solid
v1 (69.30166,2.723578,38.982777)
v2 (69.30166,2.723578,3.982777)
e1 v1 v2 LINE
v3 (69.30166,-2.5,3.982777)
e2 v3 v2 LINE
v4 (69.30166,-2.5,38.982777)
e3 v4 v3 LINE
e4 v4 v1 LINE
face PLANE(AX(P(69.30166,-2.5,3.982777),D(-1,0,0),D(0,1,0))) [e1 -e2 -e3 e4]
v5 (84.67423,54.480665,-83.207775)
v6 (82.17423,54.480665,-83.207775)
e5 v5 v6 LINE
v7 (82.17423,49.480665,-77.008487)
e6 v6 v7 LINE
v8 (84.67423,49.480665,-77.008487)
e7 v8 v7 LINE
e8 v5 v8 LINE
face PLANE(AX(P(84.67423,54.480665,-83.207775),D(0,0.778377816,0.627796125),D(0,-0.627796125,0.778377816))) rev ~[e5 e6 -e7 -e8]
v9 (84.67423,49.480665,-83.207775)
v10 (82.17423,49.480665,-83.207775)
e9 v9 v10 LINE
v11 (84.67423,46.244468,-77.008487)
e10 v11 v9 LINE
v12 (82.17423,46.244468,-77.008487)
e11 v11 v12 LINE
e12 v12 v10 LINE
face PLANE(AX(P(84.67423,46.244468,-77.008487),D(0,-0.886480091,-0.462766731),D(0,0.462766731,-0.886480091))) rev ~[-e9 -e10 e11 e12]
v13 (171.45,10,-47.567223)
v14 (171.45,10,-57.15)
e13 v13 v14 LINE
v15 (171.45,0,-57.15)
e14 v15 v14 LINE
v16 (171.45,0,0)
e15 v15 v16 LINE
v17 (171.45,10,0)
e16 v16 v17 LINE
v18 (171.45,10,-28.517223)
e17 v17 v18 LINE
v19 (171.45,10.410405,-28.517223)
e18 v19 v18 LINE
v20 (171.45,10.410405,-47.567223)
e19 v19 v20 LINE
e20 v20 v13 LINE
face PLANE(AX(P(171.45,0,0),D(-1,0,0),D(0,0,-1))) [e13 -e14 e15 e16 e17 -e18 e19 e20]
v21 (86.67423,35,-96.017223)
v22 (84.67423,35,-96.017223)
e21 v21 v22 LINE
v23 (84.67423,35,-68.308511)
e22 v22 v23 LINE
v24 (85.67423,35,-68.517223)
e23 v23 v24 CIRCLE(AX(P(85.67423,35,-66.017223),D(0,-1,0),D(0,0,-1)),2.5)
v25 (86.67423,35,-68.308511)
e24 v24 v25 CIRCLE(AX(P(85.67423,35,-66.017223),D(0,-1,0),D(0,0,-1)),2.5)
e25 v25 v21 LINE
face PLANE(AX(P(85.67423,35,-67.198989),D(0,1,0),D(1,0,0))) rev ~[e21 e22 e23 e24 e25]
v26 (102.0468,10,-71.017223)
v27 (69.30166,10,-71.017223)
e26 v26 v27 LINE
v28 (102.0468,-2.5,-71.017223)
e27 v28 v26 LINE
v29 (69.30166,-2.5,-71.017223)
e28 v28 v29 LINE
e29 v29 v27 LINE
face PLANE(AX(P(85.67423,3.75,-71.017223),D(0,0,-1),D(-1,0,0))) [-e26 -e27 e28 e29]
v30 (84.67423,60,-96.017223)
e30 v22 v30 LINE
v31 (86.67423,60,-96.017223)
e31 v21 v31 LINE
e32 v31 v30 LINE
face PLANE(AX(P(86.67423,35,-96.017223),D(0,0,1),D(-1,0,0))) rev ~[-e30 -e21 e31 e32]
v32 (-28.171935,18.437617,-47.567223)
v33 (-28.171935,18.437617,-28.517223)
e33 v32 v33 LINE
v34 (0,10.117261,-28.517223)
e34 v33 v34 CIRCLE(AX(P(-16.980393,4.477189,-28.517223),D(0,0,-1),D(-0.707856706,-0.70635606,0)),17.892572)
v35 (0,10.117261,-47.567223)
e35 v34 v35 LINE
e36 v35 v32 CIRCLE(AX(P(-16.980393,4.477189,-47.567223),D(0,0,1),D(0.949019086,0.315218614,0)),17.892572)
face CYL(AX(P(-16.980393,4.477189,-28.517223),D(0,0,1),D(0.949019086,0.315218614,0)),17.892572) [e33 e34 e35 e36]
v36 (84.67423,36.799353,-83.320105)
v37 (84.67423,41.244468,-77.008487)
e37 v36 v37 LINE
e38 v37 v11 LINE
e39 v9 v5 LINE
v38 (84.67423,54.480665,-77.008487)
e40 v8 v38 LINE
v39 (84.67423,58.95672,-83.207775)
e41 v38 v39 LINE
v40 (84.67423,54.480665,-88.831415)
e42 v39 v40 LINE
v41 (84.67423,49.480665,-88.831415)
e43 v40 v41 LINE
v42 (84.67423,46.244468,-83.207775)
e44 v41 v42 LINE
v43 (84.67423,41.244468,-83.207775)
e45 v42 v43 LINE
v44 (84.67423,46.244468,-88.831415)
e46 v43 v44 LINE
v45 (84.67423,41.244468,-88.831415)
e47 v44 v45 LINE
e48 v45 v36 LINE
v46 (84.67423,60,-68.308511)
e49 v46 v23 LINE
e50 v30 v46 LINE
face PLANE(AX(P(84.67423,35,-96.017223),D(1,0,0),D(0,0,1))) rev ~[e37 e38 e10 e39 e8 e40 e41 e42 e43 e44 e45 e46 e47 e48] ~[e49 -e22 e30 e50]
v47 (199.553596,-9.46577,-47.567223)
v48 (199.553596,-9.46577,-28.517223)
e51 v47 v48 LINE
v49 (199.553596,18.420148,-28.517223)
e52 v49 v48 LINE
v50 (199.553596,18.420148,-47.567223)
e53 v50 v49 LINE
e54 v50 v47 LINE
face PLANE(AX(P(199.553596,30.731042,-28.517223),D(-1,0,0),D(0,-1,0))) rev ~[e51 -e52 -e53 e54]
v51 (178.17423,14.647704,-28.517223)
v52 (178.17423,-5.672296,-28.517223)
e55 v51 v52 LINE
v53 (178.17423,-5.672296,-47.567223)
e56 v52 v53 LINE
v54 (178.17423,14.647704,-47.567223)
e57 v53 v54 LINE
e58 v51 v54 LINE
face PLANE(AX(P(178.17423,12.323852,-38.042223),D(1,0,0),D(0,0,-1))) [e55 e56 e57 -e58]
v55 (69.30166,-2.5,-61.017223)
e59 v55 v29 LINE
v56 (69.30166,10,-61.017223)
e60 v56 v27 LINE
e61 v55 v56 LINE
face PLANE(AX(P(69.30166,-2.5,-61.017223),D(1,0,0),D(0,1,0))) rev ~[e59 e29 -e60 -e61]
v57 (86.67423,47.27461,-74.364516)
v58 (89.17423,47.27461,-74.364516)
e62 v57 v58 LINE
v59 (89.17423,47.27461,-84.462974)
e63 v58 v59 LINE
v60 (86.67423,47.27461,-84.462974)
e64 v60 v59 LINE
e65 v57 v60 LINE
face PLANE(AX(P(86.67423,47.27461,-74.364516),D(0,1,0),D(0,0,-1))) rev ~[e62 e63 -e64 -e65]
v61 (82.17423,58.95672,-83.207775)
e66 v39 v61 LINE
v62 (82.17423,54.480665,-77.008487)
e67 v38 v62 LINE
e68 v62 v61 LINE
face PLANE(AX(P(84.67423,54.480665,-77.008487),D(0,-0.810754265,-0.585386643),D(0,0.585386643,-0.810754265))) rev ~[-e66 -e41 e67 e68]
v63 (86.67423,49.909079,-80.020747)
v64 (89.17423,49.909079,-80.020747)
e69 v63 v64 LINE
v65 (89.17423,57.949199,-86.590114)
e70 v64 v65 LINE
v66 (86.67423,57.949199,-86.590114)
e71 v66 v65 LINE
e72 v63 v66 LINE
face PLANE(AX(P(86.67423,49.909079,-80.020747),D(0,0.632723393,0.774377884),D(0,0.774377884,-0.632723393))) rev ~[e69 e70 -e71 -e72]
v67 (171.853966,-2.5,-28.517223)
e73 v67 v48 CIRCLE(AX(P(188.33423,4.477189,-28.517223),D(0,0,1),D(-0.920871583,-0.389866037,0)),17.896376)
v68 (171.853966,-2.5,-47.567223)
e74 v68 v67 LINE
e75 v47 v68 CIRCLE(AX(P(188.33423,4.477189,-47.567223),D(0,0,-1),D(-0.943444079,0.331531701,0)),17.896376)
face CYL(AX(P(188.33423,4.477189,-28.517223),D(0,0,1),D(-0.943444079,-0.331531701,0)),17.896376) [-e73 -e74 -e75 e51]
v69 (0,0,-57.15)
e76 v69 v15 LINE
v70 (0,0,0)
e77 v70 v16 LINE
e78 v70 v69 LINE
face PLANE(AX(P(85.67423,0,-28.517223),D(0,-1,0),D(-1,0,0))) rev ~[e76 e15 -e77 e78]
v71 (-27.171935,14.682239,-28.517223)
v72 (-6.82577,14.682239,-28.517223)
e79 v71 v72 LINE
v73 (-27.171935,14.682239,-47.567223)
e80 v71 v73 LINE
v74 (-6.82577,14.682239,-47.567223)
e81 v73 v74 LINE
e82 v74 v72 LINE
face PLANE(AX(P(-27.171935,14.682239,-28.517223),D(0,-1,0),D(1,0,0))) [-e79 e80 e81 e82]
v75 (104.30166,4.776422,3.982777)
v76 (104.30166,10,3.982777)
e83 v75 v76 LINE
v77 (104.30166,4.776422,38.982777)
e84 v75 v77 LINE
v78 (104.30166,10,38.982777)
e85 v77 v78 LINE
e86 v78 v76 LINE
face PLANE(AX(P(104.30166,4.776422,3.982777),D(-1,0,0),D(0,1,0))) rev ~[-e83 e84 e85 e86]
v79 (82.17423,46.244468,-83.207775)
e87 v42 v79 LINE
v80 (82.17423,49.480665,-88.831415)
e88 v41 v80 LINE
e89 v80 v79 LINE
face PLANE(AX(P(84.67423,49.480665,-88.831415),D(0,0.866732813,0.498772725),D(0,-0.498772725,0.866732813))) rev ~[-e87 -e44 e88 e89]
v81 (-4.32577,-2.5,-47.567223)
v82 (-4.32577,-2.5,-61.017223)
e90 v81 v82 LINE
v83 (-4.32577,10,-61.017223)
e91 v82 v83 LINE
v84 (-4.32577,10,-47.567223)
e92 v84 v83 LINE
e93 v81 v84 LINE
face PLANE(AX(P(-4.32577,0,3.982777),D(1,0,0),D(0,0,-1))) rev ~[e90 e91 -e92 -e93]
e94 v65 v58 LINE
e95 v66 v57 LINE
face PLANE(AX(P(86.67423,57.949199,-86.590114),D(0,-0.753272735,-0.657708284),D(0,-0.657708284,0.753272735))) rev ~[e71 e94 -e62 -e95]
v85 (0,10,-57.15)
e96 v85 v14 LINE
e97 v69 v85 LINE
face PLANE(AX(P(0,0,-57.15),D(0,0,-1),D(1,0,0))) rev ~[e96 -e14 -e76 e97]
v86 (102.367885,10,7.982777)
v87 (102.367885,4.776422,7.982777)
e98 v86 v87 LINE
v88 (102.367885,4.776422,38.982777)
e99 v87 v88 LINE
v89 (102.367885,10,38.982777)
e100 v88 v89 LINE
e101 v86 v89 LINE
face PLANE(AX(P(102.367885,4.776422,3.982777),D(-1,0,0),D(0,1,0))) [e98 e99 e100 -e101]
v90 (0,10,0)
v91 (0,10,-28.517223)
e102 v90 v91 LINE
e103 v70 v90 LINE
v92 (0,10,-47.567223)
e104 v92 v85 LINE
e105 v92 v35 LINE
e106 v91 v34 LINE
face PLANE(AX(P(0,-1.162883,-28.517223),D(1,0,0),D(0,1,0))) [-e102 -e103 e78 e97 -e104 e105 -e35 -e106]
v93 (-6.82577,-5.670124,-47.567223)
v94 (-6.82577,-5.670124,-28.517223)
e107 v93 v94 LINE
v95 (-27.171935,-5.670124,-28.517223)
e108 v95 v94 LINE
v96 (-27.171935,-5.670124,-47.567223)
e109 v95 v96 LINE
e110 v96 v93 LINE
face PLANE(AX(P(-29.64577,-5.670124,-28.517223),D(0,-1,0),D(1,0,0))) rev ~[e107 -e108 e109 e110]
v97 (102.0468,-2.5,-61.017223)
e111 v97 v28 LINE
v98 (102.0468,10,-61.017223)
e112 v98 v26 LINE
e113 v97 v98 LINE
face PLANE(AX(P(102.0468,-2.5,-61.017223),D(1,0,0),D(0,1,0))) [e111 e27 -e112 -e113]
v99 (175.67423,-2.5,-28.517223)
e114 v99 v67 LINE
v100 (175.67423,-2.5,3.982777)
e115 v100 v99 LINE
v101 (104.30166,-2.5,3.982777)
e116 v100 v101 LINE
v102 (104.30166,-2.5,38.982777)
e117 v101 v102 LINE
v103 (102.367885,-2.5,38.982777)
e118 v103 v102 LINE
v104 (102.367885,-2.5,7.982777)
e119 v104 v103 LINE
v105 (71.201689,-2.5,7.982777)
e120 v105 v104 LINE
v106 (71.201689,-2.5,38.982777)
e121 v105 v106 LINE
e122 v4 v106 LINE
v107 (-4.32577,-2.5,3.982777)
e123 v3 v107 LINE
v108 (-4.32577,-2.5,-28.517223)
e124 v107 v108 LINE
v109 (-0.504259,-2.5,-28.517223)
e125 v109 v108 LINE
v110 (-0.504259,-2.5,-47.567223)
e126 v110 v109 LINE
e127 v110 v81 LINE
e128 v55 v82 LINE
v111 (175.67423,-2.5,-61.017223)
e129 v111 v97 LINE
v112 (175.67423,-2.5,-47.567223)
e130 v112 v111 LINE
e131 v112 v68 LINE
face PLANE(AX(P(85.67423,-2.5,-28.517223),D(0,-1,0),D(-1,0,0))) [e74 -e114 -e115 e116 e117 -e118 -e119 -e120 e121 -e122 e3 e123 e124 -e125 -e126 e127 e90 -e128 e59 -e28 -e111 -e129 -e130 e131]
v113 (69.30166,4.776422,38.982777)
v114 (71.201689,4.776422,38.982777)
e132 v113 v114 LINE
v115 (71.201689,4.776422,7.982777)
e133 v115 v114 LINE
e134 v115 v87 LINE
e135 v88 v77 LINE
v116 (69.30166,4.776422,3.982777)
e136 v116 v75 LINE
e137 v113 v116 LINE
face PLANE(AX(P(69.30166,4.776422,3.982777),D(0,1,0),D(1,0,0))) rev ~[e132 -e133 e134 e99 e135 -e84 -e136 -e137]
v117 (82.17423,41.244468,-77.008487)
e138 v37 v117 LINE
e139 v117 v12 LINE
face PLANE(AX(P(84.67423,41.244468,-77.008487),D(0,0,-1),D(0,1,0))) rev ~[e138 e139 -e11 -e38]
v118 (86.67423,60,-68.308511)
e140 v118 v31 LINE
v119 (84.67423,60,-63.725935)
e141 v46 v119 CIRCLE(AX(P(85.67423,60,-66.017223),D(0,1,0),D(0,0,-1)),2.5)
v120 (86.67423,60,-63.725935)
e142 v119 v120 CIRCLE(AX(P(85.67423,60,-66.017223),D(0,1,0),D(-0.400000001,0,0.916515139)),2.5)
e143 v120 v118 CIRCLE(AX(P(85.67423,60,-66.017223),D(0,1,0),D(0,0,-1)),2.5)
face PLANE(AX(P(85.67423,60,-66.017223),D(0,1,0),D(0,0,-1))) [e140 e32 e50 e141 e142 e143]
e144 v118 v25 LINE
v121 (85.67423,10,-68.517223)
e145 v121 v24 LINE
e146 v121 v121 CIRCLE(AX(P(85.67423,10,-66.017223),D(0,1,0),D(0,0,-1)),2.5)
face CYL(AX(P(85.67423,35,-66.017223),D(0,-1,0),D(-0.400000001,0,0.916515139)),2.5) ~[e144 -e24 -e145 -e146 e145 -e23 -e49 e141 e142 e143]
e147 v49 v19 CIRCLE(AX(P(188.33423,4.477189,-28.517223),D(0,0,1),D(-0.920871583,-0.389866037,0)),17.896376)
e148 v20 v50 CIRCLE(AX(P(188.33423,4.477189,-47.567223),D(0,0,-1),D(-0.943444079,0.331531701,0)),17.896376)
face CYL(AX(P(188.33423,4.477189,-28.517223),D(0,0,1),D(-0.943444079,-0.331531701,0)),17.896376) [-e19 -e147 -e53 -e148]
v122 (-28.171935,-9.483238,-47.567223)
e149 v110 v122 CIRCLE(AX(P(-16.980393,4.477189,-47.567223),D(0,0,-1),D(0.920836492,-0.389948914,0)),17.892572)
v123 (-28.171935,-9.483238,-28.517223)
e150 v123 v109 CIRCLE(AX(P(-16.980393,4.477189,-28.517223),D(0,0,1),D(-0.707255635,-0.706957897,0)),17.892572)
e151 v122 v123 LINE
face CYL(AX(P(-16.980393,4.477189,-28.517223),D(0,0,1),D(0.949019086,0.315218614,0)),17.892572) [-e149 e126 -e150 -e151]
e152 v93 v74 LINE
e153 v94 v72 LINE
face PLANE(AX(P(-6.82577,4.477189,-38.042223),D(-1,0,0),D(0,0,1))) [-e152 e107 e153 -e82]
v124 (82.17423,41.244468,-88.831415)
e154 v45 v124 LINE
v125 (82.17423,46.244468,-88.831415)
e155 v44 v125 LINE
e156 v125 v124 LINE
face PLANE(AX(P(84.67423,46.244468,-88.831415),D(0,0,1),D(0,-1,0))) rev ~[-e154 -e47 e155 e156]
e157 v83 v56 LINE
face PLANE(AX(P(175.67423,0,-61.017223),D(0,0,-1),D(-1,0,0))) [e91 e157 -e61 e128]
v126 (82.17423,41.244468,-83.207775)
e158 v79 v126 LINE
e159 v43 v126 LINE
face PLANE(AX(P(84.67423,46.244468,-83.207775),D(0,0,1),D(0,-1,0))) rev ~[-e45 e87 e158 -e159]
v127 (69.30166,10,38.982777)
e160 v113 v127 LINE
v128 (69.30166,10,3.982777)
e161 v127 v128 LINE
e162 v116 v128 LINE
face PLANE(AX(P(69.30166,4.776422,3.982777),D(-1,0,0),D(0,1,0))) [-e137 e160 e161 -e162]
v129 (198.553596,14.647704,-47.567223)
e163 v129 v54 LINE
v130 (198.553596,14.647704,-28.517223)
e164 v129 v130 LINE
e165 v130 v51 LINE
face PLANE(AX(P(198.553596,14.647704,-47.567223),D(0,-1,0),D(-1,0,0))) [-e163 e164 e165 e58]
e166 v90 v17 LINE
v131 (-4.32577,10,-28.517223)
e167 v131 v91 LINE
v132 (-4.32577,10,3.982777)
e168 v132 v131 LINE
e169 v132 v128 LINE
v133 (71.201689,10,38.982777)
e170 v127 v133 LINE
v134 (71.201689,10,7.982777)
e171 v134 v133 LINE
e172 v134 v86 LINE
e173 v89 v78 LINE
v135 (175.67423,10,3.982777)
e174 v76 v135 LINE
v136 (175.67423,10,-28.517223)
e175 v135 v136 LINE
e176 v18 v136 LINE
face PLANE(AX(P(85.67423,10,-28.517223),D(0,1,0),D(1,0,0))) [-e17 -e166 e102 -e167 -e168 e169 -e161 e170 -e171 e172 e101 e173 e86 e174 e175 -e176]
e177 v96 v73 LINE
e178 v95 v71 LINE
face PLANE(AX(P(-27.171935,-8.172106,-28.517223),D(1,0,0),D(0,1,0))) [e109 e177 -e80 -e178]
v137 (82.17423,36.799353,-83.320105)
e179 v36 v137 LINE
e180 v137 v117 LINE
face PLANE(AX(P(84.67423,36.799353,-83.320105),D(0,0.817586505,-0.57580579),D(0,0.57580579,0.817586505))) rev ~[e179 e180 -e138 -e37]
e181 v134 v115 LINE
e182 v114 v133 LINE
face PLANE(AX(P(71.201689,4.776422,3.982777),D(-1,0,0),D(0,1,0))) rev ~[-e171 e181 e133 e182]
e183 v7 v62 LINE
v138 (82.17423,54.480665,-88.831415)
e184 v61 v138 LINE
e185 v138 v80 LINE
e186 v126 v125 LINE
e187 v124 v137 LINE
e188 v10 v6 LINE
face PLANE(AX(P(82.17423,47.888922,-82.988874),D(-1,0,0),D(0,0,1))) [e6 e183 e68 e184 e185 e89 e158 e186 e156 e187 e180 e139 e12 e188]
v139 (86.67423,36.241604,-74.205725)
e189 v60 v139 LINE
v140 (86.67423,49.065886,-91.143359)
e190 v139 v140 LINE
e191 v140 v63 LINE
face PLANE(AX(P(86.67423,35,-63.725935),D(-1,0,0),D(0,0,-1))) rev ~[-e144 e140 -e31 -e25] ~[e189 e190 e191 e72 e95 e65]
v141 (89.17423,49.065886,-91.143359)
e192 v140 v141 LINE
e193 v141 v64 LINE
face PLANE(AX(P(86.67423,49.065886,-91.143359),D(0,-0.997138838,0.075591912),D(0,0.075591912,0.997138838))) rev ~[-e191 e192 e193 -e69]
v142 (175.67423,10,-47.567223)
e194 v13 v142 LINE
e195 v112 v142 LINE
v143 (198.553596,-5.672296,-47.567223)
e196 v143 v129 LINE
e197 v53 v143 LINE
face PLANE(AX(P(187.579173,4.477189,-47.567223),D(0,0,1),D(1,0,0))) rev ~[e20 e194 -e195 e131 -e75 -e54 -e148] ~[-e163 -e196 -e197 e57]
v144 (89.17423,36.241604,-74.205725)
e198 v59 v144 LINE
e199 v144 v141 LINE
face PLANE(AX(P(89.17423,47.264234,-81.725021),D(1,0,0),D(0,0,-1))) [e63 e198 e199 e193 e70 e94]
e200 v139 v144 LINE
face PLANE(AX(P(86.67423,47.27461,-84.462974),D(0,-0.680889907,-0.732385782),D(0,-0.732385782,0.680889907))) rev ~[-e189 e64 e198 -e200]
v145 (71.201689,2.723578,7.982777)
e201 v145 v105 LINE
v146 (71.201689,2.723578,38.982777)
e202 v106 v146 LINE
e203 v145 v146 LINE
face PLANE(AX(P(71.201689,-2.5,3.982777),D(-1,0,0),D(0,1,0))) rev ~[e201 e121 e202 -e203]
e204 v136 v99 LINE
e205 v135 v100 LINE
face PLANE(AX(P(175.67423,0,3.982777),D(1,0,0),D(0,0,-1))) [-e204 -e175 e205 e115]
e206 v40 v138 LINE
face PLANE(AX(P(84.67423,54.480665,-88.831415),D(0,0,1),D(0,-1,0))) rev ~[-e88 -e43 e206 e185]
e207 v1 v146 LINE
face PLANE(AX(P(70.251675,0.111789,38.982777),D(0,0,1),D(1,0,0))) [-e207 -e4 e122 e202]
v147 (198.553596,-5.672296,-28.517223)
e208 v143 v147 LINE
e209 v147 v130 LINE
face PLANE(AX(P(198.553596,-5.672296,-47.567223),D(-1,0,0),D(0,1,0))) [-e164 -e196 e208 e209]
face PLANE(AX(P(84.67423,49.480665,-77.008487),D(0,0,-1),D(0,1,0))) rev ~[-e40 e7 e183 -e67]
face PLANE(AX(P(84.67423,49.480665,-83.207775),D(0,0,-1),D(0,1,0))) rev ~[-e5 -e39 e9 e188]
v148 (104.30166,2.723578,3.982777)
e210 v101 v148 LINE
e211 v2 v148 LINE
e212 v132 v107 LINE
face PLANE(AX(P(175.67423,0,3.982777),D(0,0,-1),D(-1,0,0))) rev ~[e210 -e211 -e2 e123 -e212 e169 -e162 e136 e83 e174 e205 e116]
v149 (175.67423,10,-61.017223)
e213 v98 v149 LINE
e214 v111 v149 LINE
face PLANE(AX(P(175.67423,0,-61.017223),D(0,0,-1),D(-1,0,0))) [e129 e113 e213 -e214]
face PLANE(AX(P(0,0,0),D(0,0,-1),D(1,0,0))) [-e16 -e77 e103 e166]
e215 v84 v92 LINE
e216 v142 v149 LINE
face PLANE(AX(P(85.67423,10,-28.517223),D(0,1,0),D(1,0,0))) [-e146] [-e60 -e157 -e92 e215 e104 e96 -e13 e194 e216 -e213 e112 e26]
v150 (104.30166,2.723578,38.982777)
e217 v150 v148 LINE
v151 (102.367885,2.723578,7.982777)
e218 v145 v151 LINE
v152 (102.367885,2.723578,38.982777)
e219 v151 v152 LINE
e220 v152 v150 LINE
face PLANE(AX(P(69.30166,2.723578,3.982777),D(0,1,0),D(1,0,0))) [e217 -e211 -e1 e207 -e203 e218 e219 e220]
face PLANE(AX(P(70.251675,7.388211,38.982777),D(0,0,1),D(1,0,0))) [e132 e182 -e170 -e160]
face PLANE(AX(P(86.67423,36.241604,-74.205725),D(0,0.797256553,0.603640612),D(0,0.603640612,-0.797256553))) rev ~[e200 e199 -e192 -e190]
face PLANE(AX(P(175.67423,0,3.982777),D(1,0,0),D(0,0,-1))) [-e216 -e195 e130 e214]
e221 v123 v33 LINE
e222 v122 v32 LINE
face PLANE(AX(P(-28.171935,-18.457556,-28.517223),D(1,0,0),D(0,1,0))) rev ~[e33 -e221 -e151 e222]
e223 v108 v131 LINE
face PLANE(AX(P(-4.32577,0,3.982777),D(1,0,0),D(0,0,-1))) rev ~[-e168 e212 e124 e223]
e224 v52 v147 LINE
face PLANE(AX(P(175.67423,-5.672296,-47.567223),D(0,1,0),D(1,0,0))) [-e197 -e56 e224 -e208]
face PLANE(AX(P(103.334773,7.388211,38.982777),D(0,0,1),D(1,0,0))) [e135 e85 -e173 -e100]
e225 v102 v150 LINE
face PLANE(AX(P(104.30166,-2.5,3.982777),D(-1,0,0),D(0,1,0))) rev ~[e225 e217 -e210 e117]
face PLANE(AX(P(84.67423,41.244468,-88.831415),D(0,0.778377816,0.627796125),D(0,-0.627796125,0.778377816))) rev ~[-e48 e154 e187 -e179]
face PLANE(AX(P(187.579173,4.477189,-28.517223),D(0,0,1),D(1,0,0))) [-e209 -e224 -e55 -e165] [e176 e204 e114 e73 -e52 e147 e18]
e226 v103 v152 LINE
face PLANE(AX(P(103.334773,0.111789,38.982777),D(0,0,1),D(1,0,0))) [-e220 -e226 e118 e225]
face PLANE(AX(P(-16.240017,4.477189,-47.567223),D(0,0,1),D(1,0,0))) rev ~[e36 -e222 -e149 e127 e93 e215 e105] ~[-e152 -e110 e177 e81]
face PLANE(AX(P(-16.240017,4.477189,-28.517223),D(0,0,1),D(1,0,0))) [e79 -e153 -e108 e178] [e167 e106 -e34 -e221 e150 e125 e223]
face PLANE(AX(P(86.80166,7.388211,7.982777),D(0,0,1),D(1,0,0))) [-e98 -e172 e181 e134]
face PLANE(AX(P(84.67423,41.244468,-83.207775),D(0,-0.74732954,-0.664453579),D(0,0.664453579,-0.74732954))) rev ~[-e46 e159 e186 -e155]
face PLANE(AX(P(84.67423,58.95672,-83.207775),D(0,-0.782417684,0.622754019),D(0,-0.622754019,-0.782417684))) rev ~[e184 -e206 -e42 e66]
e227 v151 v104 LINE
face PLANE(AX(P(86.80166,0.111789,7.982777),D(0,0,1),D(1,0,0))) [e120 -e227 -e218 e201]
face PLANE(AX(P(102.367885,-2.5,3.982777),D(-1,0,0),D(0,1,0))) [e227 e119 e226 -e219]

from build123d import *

# Parameters (mm, degrees)
SKETCH1_W            = 180
SKETCH1_H            = 65
SKETCH1_W_2          = 171.45
SKETCH1_H_2          = 57.15
BOSS_EXTRUDE1_DEPTH  = 10
SKETCH2_W            = 180
SKETCH2_H            = 65
BOSS_EXTRUDE2_DEPTH  = 2.5
SKETCH3_W            = 19.05
SKETCH3_H            = 4.647704017
SKETCH3_H_2          = 3.172295983
BOSS_EXTRUDE3_DEPTH  = 2.5
SKETCH4_W            = 2.440634246
SKETCH4_H            = 20.32
BOSS_EXTRUDE4_DEPTH  = 19.05
SKETCH5_W            = 19.05
SKETCH5_H            = 25.298590684
BOSS_EXTRUDE5_DEPTH  = 2.5
BOSS_EXTRUDE6_DEPTH  = 19.05
SKETCH7_W            = 35
SKETCH7_H            = 5.223578232
BOSS_EXTRUDE7_DEPTH  = 4
SKETCH8_W            = 1.900028328
SKETCH8_H            = 5.223578232
SKETCH8_W_2          = 1.933775308
BOSS_EXTRUDE8_DEPTH  = 35
SKETCH9_W            = 25.32
SKETCH9_H            = 2.501981816
BOSS_EXTRUDE9_DEPTH  = 19.05
SKETCH10_W           = 20.346164675
SKETCH10_H           = 20.35236298
SKETCH10_W_2         = 20.379365754
SKETCH10_H_2         = 20.32
BOSS_EXTRUDE10_DEPTH = 19.05
SKETCH11_W           = 21.053847509
SKETCH11_H           = 26.24333769
SKETCH11_W_2         = 20.65238494
SKETCH11_H_2         = 27.151183987
CUT_EXTRUDE1_DEPTH   = 219.146485719
SKETCH12_W           = 32.74513921
SKETCH12_H           = 12.5
BOSS_EXTRUDE11_DEPTH = 10
SKETCH13_R           = 2.5
BOSS_EXTRUDE12_DEPTH = 50
BOSS_EXTRUDE13_START = -25
BOSS_EXTRUDE13_DEPTH = 25
BOSS_EXTRUDE14_DEPTH = 2.5
BOSS_EXTRUDE15_DEPTH = 2.5


with BuildPart() as part:
    # Sketch1 → Boss-Extrude1 (new body)
    with BuildSketch(Plane(origin=(0, 0, 0), x_dir=(1, 0, 0), z_dir=(0, 1, 0))):
        with Locations((85.674229947, 28.51722294)):
            Rectangle(SKETCH1_W, SKETCH1_H)
        with Locations((85.725, 28.575)):
            Rectangle(SKETCH1_W_2, SKETCH1_H_2, mode=Mode.SUBTRACT)
    extrude(amount=BOSS_EXTRUDE1_DEPTH)

    # Sketch2 → Boss-Extrude2 (add)
    with BuildSketch(Plane(origin=(0, 0, 0), x_dir=(-1, 0, 0), z_dir=(0, -1, 0))):
        with Locations((-85.674229947, 28.51722294)):
            Rectangle(SKETCH2_W, SKETCH2_H)
    extrude(amount=BOSS_EXTRUDE2_DEPTH)

    # Sketch3 → Boss-Extrude3 (add)
    with BuildSketch(Plane(origin=(175.674229947, 0, 0), x_dir=(0, 0, -1), z_dir=(1, 0, 0))):
        with Locations((38.04222294, 12.323852009)):
            Rectangle(SKETCH3_W, SKETCH3_H)
        Polygon((28.51722294, 10), (28.51722294, 3.75), (28.51722294, -2.5), (47.56722294, -2.5), (47.56722294, 10), align=None)
        with Locations((38.04222294, -4.086147992)):
            Rectangle(SKETCH3_W, SKETCH3_H_2)
    extrude(amount=BOSS_EXTRUDE3_DEPTH)

    # Sketch4 → Boss-Extrude4 (add)
    with BuildSketch(Plane(origin=(0, 0, -47.56722294), x_dir=(-1, 0, 0), z_dir=(0, 0, -1))):
        Polygon((-200.994229947, 17.126484518), (-200.994229947, 14.647704017), (-198.553595701, 14.647704017), (-178.174229947, 14.647704017), (-175.674229947, 14.647704017), (-175.674229947, 17.126484518), align=None)
        with Locations((-199.773912824, 4.487704017)):
            Rectangle(SKETCH4_W, SKETCH4_H)
        Polygon((-198.553595701, -5.672295983), (-200.994229947, -5.672295983), (-200.994229947, -8.172106166), (-175.674229947, -8.172106166), (-175.674229947, -5.672295983), (-178.174229947, -5.672295983), align=None)
    extrude(amount=-BOSS_EXTRUDE4_DEPTH)

    # Sketch5 → Boss-Extrude5 (add)
    with BuildSketch(Plane.ZY.offset(4.325770053)):
        with Locations((-38.04222294, 4.477189176)):
            Rectangle(SKETCH5_W, SKETCH5_H)
    extrude(amount=BOSS_EXTRUDE5_DEPTH)

    # Sketch6 → Boss-Extrude6 (add)
    with BuildSketch(Plane.XY.offset(-28.51722294)):
        Polygon((-29.645770053, -8.172106166), (-27.171934728, -8.172106166), (-27.171934728, 14.68223863), (-4.325770053, 14.68223863), (-4.325770053, 17.115716116), (-29.645770053, 17.115716116), align=None)
    extrude(amount=-BOSS_EXTRUDE6_DEPTH)

    # Sketch7 → Boss-Extrude7 (add)
    with BuildSketch(Plane.XY.offset(3.98277706)):
        with Locations((86.801660342, 7.388210884)):
            Rectangle(SKETCH7_W, SKETCH7_H)
        with Locations((86.801660342, 0.111789116)):
            Rectangle(SKETCH7_W, SKETCH7_H)
    extrude(amount=BOSS_EXTRUDE7_DEPTH)

    # Sketch8 → Boss-Extrude8 (add)
    with BuildSketch(Plane.XY.offset(3.98277706)):
        with Locations((70.251674506, 7.388210884)):
            Rectangle(SKETCH8_W, SKETCH8_H)
        with Locations((70.251674506, 0.111789116)):
            Rectangle(SKETCH8_W, SKETCH8_H)
        with Locations((103.334772688, 0.111789116)):
            Rectangle(SKETCH8_W_2, SKETCH8_H)
        with Locations((103.334772688, 7.388210884)):
            Rectangle(SKETCH8_W_2, SKETCH8_H)
    extrude(amount=BOSS_EXTRUDE8_DEPTH)

    # Sketch9 → Boss-Extrude9 (add)
    with BuildSketch(Plane.XY.offset(-28.51722294)):
        with Locations((-16.985770053, -6.921115258)):
            Rectangle(SKETCH9_W, SKETCH9_H)
    extrude(amount=-BOSS_EXTRUDE9_DEPTH)

    # Sketch10 → Boss-Extrude10 (add)
    # profile 1 of 2: a face of its own
    with BuildSketch(Plane.XY.offset(-28.51722294)):
        with BuildLine():
            ThreePointArc((0, 10.117261054), (-34.872965087, 4.477189176), (0, -1.162882702))
            Line((0, -1.162882702), (0, 10.117261054))
        make_face()
        with Locations((-16.998852391, 4.50605714)):
            Rectangle(SKETCH10_W, SKETCH10_H, mode=Mode.SUBTRACT)
    # profile 2 of 2: a face of its own
    with BuildSketch(Plane.XY.offset(-28.51722294)):
        with BuildLine():
            Line((171.45, 10.410405146), (171.45, -1.456026794))
            ThreePointArc((171.45, -1.456026794), (206.230605911, 4.477189176), (171.45, 10.410405146))
        make_face()
        with Locations((188.363912824, 4.487704017)):
            Rectangle(SKETCH10_W_2, SKETCH10_H_2, mode=Mode.SUBTRACT)
    extrude(amount=-BOSS_EXTRUDE10_DEPTH)

    # Sketch11 → Cut-Extrude1 (cut, through all)
    with BuildSketch(Plane.XY.offset(-28.51722294)):
        with BuildLine():
            Line((-53.173508904, 4.50605714), (-34.8729418, 4.50605714))
            ThreePointArc((-34.8729418, 4.50605714), (-33.104696604, 12.232894836), (-28.171934728, 18.437616596))
            Line((-28.171934728, 18.437616596), (-28.171934728, 29.671454137))
            Line((-28.171934728, 29.671454137), (-53.381023661, 29.671454137))
            Line((-53.381023661, 29.671454137), (-53.381023661, 4.50605714))
            Line((-53.381023661, 4.50605714), (-53.173508904, 4.50605714))
        make_face()
        with BuildLine():
            ThreePointArc((-29.645770053, -8.161337764), (-33.520115813, -2.347890017), (-34.8729418, 4.50605714))
            Line((-34.8729418, 4.50605714), (-53.173508904, 4.50605714))
            Line((-53.173508904, 4.50605714), (-53.173508904, -18.45755641))
            Line((-53.173508904, -18.45755641), (-28.171934728, -18.45755641))
            Line((-28.171934728, -18.45755641), (-28.171934728, -9.483238244))
            ThreePointArc((-28.171934728, -9.483238244), (-28.921483903, -8.847768144), (-29.635015336, -8.172106166))
            Line((-29.635015336, -8.172106166), (-29.645770053, -8.172106166))
            Line((-29.645770053, -8.172106166), (-29.645770053, -8.161337764))
        make_face()
        with BuildLine():
            Line((-34.8729418, 4.50605714), (-28.171934728, 4.50605714))
            Line((-28.171934728, 4.50605714), (-28.171934728, 18.437616596))
            ThreePointArc((-28.171934728, 18.437616596), (-33.104696604, 12.232894836), (-34.8729418, 4.50605714))
        make_face()
        with BuildLine():
            Line((-28.171934728, -9.483238244), (-28.171934728, 4.50605714))
            Line((-28.171934728, 4.50605714), (-34.8729418, 4.50605714))
            ThreePointArc((-34.8729418, 4.50605714), (-33.520115813, -2.347890017), (-29.645770053, -8.161337764))
            Line((-29.645770053, -8.161337764), (-29.645770053, -8.172106166))
            Line((-29.645770053, -8.172106166), (-29.635015336, -8.172106166))
            ThreePointArc((-29.635015336, -8.172106166), (-28.921483903, -8.847768144), (-28.171934728, -9.483238244))
        make_face()
        with Locations((210.080519455, 17.609372862)):
            Rectangle(SKETCH11_W, SKETCH11_H)
        with Locations((209.879788171, -9.087887976)):
            Rectangle(SKETCH11_W_2, SKETCH11_H_2)
    extrude(amount=-CUT_EXTRUDE1_DEPTH, mode=Mode.SUBTRACT)

    # Sketch12 → Boss-Extrude11 (add)
    with BuildSketch(Plane(origin=(0, 0, -61.01722294), x_dir=(-1, 0, 0), z_dir=(0, 0, -1))):
        with Locations((-85.674229947, 3.75)):
            Rectangle(SKETCH12_W, SKETCH12_H)
    extrude(amount=BOSS_EXTRUDE11_DEPTH)

    # Sketch13 → Boss-Extrude12 (add)
    with BuildSketch(Plane(origin=(0, 10, 0), x_dir=(1, 0, 0), z_dir=(0, 1, 0))):
        with Locations(Location((85.674229947, 66.01722294, 0), (0, 0, 90))):
            Circle(SKETCH13_R)
    extrude(amount=BOSS_EXTRUDE12_DEPTH)

    # Sketch14 → Boss-Extrude13 (add)
    with BuildSketch(Plane(origin=(0, 60, 0), x_dir=(1, 0, 0), z_dir=(0, 1, 0)).offset(BOSS_EXTRUDE13_START)):
        with BuildLine():
            Line((84.674229947, 68.308510788), (84.674229947, 66.01722294))
            Line((84.674229947, 66.01722294), (86.674229947, 66.01722294))
            Line((86.674229947, 66.01722294), (86.674229947, 68.308510788))
            ThreePointArc((86.674229947, 68.308510788), (85.674229947, 68.51722294), (84.674229947, 68.308510788))
        make_face()
        with BuildLine():
            Line((86.674229947, 66.01722294), (84.674229947, 66.01722294))
            Line((84.674229947, 66.01722294), (84.674229947, 63.725935093))
            ThreePointArc((84.674229947, 63.725935093), (85.674229947, 63.51722294), (86.674229947, 63.725935093))
            Line((86.674229947, 63.725935093), (86.674229947, 66.01722294))
        make_face()
        with BuildLine():
            Line((84.674229947, 96.01722294), (84.674229947, 68.308510788))
            ThreePointArc((84.674229947, 68.308510788), (85.674229947, 68.51722294), (86.674229947, 68.308510788))
            Line((86.674229947, 68.308510788), (86.674229947, 96.01722294))
            Line((86.674229947, 96.01722294), (84.674229947, 96.01722294))
        make_face()
    extrude(amount=BOSS_EXTRUDE13_DEPTH)

    # Sketch15 → Boss-Extrude14 (add)
    with BuildSketch(Plane(origin=(86.674229947, 0, 0), x_dir=(0, 0, -1), z_dir=(1, 0, 0))):
        Polygon((86.590113791, 57.949199479), (74.364516101, 47.274610451), (84.462974004, 47.274610451), (74.205725369, 36.241603515), (91.143359189, 49.065886488), (80.020746684, 49.909078542), align=None)
    extrude(amount=BOSS_EXTRUDE14_DEPTH)

    # Sketch16 → Boss-Extrude15 (add)
    with BuildSketch(Plane.ZY.offset(-84.674229947)):
        Polygon((-88.831415439, 54.480665097), (-88.831415439, 49.480665097), (-83.207775472, 46.244467981), (-83.207775472, 41.244467981), (-88.831415439, 46.244467981), (-88.831415439, 41.244467981), (-83.320105395, 36.799352745), (-77.00848732, 41.244467981), (-77.00848732, 46.244467981), (-83.207775472, 49.480665097), (-83.207775472, 54.480665097), (-77.00848732, 49.480665097), (-77.00848732, 54.480665097), (-83.207775472, 58.956719844), align=None)
    extrude(amount=BOSS_EXTRUDE15_DEPTH)


solid = part.part
